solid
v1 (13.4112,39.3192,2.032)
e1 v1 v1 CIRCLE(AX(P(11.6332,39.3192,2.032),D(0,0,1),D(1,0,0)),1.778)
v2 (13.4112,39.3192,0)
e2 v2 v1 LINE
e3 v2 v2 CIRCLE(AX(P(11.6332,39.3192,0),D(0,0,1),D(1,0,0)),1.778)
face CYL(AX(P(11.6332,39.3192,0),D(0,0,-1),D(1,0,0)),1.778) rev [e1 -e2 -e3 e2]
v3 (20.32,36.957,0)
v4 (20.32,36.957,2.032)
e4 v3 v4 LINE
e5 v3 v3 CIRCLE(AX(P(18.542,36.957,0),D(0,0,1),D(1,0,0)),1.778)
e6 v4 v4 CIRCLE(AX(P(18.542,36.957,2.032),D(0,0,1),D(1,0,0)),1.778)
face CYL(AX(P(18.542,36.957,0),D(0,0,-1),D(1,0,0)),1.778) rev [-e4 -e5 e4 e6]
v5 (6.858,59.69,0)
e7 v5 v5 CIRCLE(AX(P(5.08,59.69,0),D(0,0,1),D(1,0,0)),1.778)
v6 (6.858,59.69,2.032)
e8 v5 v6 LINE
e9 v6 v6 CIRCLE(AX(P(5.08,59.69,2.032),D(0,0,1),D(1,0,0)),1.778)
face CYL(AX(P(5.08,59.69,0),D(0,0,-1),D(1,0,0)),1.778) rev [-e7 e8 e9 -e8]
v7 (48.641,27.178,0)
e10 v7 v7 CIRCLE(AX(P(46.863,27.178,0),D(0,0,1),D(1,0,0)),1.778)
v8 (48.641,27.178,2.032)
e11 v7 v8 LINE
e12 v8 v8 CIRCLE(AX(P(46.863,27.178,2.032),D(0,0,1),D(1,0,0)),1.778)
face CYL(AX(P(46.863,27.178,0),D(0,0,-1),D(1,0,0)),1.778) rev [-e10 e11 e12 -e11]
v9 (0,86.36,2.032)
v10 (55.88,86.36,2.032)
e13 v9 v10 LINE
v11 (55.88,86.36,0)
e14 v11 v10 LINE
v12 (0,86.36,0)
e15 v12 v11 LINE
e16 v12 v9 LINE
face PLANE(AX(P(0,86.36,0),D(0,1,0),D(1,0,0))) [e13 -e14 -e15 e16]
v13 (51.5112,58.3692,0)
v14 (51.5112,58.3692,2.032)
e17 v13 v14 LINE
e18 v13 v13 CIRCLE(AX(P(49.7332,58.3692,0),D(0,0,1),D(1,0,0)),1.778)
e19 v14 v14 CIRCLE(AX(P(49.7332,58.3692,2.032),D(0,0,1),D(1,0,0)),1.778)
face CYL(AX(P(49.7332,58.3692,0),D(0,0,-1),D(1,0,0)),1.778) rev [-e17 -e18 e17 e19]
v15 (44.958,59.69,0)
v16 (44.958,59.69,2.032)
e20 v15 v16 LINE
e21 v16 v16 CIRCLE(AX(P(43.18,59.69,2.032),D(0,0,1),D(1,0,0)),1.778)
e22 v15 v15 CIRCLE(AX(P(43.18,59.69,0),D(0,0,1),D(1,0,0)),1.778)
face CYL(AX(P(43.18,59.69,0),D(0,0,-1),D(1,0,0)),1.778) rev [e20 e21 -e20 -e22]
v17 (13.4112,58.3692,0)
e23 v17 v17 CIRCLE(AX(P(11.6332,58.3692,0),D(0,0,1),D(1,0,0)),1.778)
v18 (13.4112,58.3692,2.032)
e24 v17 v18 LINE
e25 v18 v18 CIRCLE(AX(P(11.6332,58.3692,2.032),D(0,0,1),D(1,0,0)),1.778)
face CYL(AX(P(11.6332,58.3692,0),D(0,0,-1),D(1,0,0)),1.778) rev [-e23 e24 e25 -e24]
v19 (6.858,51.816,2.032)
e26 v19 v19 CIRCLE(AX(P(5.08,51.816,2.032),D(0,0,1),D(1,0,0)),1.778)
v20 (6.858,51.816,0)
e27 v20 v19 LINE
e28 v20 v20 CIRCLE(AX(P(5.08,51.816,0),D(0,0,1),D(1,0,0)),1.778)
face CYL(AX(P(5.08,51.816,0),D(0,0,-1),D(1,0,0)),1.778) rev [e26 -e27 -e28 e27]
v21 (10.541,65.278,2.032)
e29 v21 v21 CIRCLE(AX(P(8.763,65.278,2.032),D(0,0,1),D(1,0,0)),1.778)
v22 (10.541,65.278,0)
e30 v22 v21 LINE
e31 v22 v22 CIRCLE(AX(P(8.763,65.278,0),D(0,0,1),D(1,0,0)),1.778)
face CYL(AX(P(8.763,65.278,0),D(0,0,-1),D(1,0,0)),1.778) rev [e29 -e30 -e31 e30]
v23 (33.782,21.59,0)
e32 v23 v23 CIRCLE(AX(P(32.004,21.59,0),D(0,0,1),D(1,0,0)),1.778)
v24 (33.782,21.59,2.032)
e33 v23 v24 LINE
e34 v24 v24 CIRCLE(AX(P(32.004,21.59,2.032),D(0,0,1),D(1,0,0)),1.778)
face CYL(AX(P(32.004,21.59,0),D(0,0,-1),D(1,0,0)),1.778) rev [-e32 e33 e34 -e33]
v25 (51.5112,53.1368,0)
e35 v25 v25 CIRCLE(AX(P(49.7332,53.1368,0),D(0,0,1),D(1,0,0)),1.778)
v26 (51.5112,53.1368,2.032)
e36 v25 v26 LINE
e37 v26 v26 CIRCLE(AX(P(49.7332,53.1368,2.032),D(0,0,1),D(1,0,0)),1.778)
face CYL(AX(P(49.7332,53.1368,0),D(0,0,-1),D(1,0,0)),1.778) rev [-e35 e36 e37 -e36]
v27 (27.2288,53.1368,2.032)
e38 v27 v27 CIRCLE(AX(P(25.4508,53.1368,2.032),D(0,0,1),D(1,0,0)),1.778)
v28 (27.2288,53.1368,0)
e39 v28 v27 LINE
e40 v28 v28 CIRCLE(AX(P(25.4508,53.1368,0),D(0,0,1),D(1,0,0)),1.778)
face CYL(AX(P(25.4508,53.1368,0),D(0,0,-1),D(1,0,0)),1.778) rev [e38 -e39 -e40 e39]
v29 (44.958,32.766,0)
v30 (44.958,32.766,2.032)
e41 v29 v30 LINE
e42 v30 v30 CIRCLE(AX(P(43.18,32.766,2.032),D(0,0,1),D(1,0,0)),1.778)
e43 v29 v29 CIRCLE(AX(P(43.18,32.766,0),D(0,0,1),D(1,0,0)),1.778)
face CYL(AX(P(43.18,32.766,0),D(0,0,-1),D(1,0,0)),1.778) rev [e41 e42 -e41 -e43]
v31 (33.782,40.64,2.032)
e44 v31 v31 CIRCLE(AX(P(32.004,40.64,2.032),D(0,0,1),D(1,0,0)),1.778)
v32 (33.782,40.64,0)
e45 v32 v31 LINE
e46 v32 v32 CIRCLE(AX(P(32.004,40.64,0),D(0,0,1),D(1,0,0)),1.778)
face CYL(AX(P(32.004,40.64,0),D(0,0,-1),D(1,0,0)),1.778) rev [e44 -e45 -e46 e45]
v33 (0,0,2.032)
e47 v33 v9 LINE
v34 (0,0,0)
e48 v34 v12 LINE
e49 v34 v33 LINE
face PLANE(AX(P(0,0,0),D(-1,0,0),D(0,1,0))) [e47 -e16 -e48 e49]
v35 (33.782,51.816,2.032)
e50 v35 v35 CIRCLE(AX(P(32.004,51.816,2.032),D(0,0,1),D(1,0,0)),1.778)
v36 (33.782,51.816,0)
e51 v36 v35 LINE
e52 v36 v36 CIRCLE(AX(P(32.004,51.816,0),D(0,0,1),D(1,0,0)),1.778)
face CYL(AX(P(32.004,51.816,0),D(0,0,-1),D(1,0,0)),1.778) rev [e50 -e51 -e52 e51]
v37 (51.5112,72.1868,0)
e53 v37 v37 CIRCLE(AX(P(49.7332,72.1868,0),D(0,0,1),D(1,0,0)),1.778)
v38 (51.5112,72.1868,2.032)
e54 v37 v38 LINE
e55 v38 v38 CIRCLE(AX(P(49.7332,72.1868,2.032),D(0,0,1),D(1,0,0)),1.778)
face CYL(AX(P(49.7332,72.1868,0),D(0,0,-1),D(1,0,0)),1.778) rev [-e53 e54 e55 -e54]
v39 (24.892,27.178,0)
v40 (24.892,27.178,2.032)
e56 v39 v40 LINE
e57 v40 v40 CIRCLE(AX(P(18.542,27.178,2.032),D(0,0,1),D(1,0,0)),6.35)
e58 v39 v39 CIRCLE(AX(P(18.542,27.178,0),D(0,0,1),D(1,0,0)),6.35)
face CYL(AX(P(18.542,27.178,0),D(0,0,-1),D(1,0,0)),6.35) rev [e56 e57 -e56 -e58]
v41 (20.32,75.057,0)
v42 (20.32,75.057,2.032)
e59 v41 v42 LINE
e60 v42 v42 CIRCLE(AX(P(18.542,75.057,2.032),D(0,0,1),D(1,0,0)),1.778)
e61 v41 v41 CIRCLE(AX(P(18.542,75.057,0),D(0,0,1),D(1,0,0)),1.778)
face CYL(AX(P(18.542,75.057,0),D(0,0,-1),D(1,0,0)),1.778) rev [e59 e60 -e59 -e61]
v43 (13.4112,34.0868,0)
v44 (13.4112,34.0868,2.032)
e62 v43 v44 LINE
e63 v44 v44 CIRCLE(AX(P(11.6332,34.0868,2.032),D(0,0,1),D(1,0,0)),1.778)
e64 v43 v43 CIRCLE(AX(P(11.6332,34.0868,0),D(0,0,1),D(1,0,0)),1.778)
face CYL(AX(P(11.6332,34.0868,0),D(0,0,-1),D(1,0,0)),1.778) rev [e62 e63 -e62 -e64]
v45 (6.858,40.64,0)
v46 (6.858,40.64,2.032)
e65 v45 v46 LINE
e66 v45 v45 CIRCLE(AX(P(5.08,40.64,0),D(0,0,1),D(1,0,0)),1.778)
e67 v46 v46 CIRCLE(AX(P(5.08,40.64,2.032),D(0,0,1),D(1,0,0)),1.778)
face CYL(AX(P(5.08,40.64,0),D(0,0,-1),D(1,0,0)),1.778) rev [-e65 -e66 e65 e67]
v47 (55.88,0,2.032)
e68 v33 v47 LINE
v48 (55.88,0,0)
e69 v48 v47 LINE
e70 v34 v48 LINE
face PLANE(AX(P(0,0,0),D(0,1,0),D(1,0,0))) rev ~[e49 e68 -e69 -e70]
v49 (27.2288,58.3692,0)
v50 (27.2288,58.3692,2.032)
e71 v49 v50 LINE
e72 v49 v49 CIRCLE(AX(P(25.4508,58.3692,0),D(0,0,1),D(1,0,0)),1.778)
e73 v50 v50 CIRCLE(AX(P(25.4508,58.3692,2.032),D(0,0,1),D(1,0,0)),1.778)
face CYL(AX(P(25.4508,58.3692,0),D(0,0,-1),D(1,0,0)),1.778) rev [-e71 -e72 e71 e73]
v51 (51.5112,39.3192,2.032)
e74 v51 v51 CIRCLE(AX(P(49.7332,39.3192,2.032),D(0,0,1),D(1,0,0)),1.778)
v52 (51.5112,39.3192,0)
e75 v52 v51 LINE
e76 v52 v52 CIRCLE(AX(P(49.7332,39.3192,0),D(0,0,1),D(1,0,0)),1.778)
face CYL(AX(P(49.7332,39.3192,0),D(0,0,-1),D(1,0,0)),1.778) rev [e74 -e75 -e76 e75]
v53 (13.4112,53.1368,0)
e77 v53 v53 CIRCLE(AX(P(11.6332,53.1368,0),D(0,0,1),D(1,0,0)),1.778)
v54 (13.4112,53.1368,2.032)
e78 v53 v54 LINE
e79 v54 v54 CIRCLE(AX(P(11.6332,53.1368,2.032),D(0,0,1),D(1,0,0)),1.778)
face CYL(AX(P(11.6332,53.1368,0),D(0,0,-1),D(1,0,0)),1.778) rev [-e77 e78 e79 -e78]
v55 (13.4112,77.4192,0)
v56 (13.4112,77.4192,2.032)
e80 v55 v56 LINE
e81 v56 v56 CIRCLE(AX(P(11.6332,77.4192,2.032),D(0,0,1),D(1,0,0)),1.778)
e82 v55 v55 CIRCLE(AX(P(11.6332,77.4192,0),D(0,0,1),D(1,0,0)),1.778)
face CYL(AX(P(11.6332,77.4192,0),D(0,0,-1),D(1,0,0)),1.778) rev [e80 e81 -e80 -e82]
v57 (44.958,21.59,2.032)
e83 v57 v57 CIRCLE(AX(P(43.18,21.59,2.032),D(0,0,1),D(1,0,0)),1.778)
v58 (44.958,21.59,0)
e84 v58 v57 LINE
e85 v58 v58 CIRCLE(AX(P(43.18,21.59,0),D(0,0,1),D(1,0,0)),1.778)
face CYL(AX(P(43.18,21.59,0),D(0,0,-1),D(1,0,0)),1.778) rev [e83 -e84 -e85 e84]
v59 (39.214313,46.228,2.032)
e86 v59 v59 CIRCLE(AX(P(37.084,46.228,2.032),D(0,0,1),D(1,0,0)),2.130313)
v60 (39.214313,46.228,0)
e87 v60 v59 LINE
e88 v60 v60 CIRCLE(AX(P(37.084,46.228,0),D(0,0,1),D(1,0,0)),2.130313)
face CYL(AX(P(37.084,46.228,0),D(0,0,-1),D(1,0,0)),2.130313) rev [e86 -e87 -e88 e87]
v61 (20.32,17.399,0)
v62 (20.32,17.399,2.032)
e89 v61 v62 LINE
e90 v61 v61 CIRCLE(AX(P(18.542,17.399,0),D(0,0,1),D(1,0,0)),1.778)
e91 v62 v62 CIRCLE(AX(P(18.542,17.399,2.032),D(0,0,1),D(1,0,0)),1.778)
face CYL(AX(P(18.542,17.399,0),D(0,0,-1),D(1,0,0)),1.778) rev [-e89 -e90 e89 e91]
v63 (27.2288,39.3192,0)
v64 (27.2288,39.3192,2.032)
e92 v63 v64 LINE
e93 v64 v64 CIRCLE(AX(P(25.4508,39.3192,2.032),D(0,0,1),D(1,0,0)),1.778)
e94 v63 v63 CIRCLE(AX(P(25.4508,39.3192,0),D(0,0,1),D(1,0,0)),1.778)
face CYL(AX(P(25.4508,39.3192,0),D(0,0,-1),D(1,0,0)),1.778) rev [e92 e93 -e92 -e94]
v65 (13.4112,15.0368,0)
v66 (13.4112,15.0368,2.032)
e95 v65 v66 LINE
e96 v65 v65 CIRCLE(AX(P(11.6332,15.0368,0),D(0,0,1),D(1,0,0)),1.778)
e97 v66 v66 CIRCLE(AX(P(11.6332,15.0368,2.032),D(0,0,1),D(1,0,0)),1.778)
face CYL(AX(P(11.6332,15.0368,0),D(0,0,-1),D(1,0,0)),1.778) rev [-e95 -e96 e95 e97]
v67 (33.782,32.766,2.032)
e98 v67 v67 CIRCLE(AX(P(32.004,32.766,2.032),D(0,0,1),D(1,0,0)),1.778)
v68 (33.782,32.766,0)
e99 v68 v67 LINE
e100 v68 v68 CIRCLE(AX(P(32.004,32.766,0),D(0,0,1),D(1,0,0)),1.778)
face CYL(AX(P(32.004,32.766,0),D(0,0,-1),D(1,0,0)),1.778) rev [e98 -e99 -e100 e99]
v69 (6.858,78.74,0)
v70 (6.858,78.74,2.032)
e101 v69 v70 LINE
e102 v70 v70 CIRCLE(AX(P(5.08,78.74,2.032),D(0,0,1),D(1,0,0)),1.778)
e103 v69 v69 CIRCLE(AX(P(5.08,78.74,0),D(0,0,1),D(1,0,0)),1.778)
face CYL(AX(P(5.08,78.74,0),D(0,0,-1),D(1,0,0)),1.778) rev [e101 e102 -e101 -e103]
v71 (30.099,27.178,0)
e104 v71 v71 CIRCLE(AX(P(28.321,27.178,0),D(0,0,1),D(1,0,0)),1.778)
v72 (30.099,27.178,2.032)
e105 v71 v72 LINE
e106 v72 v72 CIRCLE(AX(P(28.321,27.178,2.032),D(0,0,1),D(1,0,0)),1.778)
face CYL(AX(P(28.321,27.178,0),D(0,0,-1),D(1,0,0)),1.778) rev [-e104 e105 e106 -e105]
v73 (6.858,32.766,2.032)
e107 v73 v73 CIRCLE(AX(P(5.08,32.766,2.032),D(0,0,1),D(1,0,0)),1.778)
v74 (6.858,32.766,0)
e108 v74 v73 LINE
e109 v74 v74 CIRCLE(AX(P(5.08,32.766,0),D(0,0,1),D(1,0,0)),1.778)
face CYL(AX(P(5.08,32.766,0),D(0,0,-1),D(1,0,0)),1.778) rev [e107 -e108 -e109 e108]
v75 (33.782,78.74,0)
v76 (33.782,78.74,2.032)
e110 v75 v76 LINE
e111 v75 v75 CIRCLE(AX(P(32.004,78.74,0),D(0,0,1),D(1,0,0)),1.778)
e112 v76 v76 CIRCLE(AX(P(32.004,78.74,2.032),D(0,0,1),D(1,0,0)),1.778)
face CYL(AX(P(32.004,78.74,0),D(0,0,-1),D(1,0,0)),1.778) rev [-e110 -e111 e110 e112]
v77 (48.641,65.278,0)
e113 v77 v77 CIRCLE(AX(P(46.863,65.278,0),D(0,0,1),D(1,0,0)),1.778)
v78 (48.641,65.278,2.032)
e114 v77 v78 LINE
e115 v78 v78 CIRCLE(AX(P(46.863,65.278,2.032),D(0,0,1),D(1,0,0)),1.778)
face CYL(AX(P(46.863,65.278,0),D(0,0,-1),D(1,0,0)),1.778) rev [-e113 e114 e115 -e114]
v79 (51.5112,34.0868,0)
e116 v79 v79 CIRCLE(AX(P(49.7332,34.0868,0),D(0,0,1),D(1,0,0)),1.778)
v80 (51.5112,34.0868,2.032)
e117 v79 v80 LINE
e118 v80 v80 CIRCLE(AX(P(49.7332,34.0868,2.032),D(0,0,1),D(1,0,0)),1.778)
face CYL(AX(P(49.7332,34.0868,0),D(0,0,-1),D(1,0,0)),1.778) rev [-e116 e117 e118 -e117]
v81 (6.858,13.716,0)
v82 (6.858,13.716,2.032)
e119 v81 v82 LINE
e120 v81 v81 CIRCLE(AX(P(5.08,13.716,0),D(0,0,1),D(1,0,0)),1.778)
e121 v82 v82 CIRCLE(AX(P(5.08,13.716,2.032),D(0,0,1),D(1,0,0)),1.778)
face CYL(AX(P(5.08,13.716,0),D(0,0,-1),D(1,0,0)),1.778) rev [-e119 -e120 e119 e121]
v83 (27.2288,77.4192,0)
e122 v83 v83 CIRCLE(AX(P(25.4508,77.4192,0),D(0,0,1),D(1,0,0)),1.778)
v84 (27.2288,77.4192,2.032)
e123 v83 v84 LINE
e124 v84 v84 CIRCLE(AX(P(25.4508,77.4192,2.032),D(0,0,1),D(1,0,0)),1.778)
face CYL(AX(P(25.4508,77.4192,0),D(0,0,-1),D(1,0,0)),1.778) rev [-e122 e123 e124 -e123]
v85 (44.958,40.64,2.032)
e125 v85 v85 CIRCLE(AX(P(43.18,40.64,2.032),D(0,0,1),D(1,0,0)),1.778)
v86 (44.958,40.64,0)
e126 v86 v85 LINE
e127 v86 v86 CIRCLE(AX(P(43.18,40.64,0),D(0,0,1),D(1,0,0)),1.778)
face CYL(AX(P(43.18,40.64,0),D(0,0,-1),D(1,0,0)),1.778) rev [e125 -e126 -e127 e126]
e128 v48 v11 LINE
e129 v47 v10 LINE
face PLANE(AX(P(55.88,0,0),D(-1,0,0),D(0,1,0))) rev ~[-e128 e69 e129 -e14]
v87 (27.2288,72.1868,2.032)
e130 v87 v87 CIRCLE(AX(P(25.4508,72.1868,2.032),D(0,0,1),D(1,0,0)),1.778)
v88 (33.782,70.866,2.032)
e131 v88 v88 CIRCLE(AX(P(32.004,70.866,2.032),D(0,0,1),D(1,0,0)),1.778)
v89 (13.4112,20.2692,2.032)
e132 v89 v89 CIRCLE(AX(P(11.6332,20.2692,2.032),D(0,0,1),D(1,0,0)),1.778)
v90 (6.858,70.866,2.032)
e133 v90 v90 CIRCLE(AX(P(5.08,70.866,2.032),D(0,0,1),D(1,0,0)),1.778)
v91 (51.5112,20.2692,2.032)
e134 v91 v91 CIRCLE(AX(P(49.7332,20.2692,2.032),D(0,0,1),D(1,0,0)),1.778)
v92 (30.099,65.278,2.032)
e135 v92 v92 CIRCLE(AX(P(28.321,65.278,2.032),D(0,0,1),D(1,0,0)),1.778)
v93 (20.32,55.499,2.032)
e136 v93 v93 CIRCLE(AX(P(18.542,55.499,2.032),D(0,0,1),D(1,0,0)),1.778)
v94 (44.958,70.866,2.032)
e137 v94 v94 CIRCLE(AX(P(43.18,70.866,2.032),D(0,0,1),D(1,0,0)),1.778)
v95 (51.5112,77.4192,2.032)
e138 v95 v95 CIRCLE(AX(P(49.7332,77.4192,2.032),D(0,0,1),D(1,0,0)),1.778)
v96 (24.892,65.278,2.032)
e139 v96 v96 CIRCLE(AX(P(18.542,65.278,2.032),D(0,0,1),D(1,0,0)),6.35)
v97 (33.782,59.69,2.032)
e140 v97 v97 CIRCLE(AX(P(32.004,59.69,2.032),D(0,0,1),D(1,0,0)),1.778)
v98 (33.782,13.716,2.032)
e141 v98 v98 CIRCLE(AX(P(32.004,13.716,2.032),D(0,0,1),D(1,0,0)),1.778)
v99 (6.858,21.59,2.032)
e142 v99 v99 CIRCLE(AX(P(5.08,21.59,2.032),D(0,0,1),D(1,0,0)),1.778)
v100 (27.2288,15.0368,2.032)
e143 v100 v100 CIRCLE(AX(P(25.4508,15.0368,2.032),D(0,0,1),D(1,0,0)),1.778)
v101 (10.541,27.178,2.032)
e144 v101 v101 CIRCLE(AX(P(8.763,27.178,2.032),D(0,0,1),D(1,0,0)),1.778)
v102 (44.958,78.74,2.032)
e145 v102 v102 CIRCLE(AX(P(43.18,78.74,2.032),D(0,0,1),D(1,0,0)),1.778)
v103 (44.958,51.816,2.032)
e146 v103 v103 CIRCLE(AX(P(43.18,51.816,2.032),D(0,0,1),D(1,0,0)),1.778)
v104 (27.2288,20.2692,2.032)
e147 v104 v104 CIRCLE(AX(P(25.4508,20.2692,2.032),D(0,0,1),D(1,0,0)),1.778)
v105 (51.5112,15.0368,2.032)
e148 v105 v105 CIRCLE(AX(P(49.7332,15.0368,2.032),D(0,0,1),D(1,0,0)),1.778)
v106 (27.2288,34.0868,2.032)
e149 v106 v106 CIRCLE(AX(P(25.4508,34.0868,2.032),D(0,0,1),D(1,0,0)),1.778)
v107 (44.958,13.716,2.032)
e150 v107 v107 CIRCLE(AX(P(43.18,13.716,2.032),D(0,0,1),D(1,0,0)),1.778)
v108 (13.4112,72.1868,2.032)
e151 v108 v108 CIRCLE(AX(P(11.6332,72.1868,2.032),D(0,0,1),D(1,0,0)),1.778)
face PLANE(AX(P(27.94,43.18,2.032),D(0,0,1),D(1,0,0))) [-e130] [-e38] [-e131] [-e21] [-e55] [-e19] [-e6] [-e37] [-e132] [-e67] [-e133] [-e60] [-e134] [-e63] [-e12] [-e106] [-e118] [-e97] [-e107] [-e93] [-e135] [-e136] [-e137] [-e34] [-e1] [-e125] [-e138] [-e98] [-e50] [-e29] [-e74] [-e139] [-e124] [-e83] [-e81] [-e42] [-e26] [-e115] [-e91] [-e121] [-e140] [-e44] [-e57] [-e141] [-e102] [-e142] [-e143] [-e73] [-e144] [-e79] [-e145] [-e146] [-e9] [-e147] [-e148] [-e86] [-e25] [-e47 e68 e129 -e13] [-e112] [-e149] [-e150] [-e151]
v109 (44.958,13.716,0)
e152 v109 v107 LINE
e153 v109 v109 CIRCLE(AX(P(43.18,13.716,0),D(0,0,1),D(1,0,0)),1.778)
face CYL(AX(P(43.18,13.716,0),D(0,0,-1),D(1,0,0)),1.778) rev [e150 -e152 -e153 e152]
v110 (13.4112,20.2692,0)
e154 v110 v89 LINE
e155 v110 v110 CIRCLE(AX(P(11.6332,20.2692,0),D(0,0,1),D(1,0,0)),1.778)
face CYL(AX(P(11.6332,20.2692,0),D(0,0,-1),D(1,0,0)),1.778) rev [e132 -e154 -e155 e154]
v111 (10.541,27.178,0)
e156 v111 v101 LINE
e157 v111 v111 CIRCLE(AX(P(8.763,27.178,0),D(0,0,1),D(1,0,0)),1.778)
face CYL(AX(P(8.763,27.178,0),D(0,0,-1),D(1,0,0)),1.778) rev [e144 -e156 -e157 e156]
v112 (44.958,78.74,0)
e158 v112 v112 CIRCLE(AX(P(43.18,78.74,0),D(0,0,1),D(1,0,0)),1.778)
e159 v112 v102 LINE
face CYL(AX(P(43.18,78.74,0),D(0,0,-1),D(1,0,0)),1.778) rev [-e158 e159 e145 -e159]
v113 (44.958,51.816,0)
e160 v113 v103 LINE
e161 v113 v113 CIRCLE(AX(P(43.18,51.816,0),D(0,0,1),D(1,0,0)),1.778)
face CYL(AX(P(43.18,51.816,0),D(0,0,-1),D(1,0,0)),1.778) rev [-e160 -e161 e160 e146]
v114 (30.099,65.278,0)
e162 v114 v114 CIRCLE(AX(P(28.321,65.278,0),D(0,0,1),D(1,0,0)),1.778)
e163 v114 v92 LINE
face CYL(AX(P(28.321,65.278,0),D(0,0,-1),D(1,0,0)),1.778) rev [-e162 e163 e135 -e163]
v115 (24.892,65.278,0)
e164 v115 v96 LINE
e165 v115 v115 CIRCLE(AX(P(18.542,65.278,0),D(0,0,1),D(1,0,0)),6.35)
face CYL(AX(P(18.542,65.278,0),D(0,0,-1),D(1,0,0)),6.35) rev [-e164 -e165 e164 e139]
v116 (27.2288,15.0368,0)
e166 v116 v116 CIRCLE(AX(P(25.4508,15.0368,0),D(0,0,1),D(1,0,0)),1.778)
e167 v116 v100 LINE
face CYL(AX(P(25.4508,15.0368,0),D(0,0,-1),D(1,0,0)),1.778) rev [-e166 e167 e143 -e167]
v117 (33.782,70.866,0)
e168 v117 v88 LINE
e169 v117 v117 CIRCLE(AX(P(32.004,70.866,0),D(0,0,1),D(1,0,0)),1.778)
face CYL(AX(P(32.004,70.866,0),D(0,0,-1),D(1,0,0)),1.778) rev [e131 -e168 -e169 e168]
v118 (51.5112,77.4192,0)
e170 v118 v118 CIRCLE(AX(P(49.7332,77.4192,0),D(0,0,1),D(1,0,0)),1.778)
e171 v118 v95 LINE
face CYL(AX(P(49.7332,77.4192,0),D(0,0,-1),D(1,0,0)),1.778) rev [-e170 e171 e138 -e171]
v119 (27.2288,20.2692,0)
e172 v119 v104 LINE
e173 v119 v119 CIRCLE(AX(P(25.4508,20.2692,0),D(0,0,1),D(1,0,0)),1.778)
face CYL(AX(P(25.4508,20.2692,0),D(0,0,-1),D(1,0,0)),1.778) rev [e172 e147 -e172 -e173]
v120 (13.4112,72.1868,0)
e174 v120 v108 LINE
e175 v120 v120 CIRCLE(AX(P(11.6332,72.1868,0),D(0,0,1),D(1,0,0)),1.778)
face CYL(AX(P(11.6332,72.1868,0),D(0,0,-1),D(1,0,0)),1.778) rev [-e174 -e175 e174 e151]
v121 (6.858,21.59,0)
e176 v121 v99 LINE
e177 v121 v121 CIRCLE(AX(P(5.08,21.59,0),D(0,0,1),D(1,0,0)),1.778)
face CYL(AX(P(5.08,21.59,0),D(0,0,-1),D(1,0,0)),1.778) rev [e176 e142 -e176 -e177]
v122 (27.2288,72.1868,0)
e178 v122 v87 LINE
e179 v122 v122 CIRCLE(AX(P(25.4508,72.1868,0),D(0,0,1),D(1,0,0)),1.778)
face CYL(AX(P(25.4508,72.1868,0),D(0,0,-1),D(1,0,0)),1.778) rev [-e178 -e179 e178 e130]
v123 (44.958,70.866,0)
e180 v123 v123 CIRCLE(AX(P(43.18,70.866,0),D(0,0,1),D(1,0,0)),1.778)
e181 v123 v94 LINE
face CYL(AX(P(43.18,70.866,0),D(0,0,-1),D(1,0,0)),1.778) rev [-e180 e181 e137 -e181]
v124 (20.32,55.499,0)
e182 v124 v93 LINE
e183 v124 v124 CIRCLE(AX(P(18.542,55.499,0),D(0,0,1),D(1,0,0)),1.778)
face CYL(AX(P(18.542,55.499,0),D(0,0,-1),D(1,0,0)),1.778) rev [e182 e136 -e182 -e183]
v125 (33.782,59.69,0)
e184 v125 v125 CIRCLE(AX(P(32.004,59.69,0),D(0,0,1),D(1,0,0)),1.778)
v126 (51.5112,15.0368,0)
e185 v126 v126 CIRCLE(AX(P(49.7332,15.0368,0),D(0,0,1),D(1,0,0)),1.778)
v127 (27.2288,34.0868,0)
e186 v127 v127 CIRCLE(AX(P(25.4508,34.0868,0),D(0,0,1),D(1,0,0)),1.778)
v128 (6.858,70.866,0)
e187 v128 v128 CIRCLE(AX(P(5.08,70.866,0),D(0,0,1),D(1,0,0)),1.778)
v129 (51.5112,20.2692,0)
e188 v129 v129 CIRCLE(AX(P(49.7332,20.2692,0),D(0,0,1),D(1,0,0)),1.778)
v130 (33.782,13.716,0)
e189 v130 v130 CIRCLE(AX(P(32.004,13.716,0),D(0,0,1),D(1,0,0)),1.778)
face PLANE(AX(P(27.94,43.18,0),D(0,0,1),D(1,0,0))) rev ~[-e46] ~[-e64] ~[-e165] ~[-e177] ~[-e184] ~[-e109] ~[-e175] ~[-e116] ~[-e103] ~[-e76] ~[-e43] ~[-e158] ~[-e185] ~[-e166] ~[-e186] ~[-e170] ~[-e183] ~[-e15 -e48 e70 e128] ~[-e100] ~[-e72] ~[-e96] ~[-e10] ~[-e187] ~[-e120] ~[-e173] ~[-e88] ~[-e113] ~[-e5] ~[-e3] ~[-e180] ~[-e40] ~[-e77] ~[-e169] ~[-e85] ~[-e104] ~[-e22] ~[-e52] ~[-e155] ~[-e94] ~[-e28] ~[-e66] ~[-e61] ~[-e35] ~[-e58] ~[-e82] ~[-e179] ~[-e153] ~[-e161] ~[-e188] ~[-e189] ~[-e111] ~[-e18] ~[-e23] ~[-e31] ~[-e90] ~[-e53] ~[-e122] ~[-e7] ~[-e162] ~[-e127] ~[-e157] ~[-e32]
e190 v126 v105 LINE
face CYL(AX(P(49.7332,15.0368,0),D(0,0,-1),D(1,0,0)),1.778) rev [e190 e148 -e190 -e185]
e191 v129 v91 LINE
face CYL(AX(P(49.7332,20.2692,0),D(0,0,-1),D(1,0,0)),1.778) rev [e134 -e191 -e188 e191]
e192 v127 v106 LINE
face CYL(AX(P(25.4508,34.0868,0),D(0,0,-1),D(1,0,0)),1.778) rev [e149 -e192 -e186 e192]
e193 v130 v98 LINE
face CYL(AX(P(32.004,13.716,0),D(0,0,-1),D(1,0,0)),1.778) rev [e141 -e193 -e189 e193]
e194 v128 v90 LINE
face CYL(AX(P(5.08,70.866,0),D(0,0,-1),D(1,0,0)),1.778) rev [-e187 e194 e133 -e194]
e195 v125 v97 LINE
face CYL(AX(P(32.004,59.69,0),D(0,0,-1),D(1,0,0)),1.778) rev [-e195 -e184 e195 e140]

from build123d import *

# Parameters (mm, degrees)
F0_W     = 55.88
F0_H     = 86.36
F0_R     = 1.778
F0_R_2   = 6.35
F0_R_3   = 2.130313
F1_DEPTH = 2.032


with BuildPart() as f1:
    # F0 (on Top) → F1 (new body)
    with BuildSketch(Plane.XY):
        with Locations((27.94, 43.18)):
            Rectangle(F0_W, F0_H)
        with Locations((5.08, 13.716)):
            Circle(F0_R, mode=Mode.SUBTRACT)
        with Locations((11.6332, 15.0368)):
            Circle(F0_R, mode=Mode.SUBTRACT)
        with Locations((11.6332, 20.2692)):
            Circle(F0_R, mode=Mode.SUBTRACT)
        with Locations((18.542, 17.399)):
            Circle(F0_R, mode=Mode.SUBTRACT)
        with Locations((25.4508, 15.0368)):
            Circle(F0_R, mode=Mode.SUBTRACT)
        with Locations((25.4508, 20.2692)):
            Circle(F0_R, mode=Mode.SUBTRACT)
        with Locations((5.08, 21.59)):
            Circle(F0_R, mode=Mode.SUBTRACT)
        with Locations((8.763, 27.178)):
            Circle(F0_R, mode=Mode.SUBTRACT)
        with Locations((5.08, 32.766)):
            Circle(F0_R, mode=Mode.SUBTRACT)
        with Locations((5.08, 40.64)):
            Circle(F0_R, mode=Mode.SUBTRACT)
        with Locations((11.6332, 34.0868)):
            Circle(F0_R, mode=Mode.SUBTRACT)
        with Locations((11.6332, 39.3192)):
            Circle(F0_R, mode=Mode.SUBTRACT)
        with Locations((18.542, 27.178)):
            Circle(F0_R_2, mode=Mode.SUBTRACT)
        with Locations((18.542, 36.957)):
            Circle(F0_R, mode=Mode.SUBTRACT)
        with Locations((25.4508, 34.0868)):
            Circle(F0_R, mode=Mode.SUBTRACT)
        with Locations((25.4508, 39.3192)):
            Circle(F0_R, mode=Mode.SUBTRACT)
        with Locations((32.004, 13.716)):
            Circle(F0_R, mode=Mode.SUBTRACT)
        with Locations((43.18, 13.716)):
            Circle(F0_R, mode=Mode.SUBTRACT)
        with Locations((49.7332, 15.0368)):
            Circle(F0_R, mode=Mode.SUBTRACT)
        with Locations((49.7332, 20.2692)):
            Circle(F0_R, mode=Mode.SUBTRACT)
        with Locations((32.004, 21.59)):
            Circle(F0_R, mode=Mode.SUBTRACT)
        with Locations((28.321, 27.178)):
            Circle(F0_R, mode=Mode.SUBTRACT)
        with Locations((32.004, 32.766)):
            Circle(F0_R, mode=Mode.SUBTRACT)
        with Locations((32.004, 40.64)):
            Circle(F0_R, mode=Mode.SUBTRACT)
        with Locations((43.18, 21.59)):
            Circle(F0_R, mode=Mode.SUBTRACT)
        with Locations((46.863, 27.178)):
            Circle(F0_R, mode=Mode.SUBTRACT)
        with Locations((43.18, 32.766)):
            Circle(F0_R, mode=Mode.SUBTRACT)
        with Locations((43.18, 40.64)):
            Circle(F0_R, mode=Mode.SUBTRACT)
        with Locations((49.7332, 34.0868)):
            Circle(F0_R, mode=Mode.SUBTRACT)
        with Locations((49.7332, 39.3192)):
            Circle(F0_R, mode=Mode.SUBTRACT)
        with Locations((5.08, 51.816)):
            Circle(F0_R, mode=Mode.SUBTRACT)
        with Locations((11.6332, 53.1368)):
            Circle(F0_R, mode=Mode.SUBTRACT)
        with Locations((5.08, 59.69)):
            Circle(F0_R, mode=Mode.SUBTRACT)
        with Locations((11.6332, 58.3692)):
            Circle(F0_R, mode=Mode.SUBTRACT)
        with Locations((25.4508, 53.1368)):
            Circle(F0_R, mode=Mode.SUBTRACT)
        with Locations((18.542, 55.499)):
            Circle(F0_R, mode=Mode.SUBTRACT)
        with Locations((25.4508, 58.3692)):
            Circle(F0_R, mode=Mode.SUBTRACT)
        with Locations((5.08, 70.866)):
            Circle(F0_R, mode=Mode.SUBTRACT)
        with Locations((8.763, 65.278)):
            Circle(F0_R, mode=Mode.SUBTRACT)
        with Locations((11.6332, 72.1868)):
            Circle(F0_R, mode=Mode.SUBTRACT)
        with Locations((5.08, 78.74)):
            Circle(F0_R, mode=Mode.SUBTRACT)
        with Locations((11.6332, 77.4192)):
            Circle(F0_R, mode=Mode.SUBTRACT)
        with Locations((18.542, 65.278)):
            Circle(F0_R_2, mode=Mode.SUBTRACT)
        with Locations((18.542, 75.057)):
            Circle(F0_R, mode=Mode.SUBTRACT)
        with Locations((25.4508, 72.1868)):
            Circle(F0_R, mode=Mode.SUBTRACT)
        with Locations((25.4508, 77.4192)):
            Circle(F0_R, mode=Mode.SUBTRACT)
        with Locations((32.004, 51.816)):
            Circle(F0_R, mode=Mode.SUBTRACT)
        with Locations((37.084, 46.228)):
            Circle(F0_R_3, mode=Mode.SUBTRACT)
        with Locations((32.004, 59.69)):
            Circle(F0_R, mode=Mode.SUBTRACT)
        with Locations((43.18, 51.816)):
            Circle(F0_R, mode=Mode.SUBTRACT)
        with Locations((49.7332, 53.1368)):
            Circle(F0_R, mode=Mode.SUBTRACT)
        with Locations((43.18, 59.69)):
            Circle(F0_R, mode=Mode.SUBTRACT)
        with Locations((49.7332, 58.3692)):
            Circle(F0_R, mode=Mode.SUBTRACT)
        with Locations((28.321, 65.278)):
            Circle(F0_R, mode=Mode.SUBTRACT)
        with Locations((32.004, 70.866)):
            Circle(F0_R, mode=Mode.SUBTRACT)
        with Locations((32.004, 78.74)):
            Circle(F0_R, mode=Mode.SUBTRACT)
        with Locations((46.863, 65.278)):
            Circle(F0_R, mode=Mode.SUBTRACT)
        with Locations((43.18, 70.866)):
            Circle(F0_R, mode=Mode.SUBTRACT)
        with Locations((49.7332, 72.1868)):
            Circle(F0_R, mode=Mode.SUBTRACT)
        with Locations((43.18, 78.74)):
            Circle(F0_R, mode=Mode.SUBTRACT)
        with Locations((49.7332, 77.4192)):
            Circle(F0_R, mode=Mode.SUBTRACT)
    extrude(amount=F1_DEPTH)


solid = f1.part
